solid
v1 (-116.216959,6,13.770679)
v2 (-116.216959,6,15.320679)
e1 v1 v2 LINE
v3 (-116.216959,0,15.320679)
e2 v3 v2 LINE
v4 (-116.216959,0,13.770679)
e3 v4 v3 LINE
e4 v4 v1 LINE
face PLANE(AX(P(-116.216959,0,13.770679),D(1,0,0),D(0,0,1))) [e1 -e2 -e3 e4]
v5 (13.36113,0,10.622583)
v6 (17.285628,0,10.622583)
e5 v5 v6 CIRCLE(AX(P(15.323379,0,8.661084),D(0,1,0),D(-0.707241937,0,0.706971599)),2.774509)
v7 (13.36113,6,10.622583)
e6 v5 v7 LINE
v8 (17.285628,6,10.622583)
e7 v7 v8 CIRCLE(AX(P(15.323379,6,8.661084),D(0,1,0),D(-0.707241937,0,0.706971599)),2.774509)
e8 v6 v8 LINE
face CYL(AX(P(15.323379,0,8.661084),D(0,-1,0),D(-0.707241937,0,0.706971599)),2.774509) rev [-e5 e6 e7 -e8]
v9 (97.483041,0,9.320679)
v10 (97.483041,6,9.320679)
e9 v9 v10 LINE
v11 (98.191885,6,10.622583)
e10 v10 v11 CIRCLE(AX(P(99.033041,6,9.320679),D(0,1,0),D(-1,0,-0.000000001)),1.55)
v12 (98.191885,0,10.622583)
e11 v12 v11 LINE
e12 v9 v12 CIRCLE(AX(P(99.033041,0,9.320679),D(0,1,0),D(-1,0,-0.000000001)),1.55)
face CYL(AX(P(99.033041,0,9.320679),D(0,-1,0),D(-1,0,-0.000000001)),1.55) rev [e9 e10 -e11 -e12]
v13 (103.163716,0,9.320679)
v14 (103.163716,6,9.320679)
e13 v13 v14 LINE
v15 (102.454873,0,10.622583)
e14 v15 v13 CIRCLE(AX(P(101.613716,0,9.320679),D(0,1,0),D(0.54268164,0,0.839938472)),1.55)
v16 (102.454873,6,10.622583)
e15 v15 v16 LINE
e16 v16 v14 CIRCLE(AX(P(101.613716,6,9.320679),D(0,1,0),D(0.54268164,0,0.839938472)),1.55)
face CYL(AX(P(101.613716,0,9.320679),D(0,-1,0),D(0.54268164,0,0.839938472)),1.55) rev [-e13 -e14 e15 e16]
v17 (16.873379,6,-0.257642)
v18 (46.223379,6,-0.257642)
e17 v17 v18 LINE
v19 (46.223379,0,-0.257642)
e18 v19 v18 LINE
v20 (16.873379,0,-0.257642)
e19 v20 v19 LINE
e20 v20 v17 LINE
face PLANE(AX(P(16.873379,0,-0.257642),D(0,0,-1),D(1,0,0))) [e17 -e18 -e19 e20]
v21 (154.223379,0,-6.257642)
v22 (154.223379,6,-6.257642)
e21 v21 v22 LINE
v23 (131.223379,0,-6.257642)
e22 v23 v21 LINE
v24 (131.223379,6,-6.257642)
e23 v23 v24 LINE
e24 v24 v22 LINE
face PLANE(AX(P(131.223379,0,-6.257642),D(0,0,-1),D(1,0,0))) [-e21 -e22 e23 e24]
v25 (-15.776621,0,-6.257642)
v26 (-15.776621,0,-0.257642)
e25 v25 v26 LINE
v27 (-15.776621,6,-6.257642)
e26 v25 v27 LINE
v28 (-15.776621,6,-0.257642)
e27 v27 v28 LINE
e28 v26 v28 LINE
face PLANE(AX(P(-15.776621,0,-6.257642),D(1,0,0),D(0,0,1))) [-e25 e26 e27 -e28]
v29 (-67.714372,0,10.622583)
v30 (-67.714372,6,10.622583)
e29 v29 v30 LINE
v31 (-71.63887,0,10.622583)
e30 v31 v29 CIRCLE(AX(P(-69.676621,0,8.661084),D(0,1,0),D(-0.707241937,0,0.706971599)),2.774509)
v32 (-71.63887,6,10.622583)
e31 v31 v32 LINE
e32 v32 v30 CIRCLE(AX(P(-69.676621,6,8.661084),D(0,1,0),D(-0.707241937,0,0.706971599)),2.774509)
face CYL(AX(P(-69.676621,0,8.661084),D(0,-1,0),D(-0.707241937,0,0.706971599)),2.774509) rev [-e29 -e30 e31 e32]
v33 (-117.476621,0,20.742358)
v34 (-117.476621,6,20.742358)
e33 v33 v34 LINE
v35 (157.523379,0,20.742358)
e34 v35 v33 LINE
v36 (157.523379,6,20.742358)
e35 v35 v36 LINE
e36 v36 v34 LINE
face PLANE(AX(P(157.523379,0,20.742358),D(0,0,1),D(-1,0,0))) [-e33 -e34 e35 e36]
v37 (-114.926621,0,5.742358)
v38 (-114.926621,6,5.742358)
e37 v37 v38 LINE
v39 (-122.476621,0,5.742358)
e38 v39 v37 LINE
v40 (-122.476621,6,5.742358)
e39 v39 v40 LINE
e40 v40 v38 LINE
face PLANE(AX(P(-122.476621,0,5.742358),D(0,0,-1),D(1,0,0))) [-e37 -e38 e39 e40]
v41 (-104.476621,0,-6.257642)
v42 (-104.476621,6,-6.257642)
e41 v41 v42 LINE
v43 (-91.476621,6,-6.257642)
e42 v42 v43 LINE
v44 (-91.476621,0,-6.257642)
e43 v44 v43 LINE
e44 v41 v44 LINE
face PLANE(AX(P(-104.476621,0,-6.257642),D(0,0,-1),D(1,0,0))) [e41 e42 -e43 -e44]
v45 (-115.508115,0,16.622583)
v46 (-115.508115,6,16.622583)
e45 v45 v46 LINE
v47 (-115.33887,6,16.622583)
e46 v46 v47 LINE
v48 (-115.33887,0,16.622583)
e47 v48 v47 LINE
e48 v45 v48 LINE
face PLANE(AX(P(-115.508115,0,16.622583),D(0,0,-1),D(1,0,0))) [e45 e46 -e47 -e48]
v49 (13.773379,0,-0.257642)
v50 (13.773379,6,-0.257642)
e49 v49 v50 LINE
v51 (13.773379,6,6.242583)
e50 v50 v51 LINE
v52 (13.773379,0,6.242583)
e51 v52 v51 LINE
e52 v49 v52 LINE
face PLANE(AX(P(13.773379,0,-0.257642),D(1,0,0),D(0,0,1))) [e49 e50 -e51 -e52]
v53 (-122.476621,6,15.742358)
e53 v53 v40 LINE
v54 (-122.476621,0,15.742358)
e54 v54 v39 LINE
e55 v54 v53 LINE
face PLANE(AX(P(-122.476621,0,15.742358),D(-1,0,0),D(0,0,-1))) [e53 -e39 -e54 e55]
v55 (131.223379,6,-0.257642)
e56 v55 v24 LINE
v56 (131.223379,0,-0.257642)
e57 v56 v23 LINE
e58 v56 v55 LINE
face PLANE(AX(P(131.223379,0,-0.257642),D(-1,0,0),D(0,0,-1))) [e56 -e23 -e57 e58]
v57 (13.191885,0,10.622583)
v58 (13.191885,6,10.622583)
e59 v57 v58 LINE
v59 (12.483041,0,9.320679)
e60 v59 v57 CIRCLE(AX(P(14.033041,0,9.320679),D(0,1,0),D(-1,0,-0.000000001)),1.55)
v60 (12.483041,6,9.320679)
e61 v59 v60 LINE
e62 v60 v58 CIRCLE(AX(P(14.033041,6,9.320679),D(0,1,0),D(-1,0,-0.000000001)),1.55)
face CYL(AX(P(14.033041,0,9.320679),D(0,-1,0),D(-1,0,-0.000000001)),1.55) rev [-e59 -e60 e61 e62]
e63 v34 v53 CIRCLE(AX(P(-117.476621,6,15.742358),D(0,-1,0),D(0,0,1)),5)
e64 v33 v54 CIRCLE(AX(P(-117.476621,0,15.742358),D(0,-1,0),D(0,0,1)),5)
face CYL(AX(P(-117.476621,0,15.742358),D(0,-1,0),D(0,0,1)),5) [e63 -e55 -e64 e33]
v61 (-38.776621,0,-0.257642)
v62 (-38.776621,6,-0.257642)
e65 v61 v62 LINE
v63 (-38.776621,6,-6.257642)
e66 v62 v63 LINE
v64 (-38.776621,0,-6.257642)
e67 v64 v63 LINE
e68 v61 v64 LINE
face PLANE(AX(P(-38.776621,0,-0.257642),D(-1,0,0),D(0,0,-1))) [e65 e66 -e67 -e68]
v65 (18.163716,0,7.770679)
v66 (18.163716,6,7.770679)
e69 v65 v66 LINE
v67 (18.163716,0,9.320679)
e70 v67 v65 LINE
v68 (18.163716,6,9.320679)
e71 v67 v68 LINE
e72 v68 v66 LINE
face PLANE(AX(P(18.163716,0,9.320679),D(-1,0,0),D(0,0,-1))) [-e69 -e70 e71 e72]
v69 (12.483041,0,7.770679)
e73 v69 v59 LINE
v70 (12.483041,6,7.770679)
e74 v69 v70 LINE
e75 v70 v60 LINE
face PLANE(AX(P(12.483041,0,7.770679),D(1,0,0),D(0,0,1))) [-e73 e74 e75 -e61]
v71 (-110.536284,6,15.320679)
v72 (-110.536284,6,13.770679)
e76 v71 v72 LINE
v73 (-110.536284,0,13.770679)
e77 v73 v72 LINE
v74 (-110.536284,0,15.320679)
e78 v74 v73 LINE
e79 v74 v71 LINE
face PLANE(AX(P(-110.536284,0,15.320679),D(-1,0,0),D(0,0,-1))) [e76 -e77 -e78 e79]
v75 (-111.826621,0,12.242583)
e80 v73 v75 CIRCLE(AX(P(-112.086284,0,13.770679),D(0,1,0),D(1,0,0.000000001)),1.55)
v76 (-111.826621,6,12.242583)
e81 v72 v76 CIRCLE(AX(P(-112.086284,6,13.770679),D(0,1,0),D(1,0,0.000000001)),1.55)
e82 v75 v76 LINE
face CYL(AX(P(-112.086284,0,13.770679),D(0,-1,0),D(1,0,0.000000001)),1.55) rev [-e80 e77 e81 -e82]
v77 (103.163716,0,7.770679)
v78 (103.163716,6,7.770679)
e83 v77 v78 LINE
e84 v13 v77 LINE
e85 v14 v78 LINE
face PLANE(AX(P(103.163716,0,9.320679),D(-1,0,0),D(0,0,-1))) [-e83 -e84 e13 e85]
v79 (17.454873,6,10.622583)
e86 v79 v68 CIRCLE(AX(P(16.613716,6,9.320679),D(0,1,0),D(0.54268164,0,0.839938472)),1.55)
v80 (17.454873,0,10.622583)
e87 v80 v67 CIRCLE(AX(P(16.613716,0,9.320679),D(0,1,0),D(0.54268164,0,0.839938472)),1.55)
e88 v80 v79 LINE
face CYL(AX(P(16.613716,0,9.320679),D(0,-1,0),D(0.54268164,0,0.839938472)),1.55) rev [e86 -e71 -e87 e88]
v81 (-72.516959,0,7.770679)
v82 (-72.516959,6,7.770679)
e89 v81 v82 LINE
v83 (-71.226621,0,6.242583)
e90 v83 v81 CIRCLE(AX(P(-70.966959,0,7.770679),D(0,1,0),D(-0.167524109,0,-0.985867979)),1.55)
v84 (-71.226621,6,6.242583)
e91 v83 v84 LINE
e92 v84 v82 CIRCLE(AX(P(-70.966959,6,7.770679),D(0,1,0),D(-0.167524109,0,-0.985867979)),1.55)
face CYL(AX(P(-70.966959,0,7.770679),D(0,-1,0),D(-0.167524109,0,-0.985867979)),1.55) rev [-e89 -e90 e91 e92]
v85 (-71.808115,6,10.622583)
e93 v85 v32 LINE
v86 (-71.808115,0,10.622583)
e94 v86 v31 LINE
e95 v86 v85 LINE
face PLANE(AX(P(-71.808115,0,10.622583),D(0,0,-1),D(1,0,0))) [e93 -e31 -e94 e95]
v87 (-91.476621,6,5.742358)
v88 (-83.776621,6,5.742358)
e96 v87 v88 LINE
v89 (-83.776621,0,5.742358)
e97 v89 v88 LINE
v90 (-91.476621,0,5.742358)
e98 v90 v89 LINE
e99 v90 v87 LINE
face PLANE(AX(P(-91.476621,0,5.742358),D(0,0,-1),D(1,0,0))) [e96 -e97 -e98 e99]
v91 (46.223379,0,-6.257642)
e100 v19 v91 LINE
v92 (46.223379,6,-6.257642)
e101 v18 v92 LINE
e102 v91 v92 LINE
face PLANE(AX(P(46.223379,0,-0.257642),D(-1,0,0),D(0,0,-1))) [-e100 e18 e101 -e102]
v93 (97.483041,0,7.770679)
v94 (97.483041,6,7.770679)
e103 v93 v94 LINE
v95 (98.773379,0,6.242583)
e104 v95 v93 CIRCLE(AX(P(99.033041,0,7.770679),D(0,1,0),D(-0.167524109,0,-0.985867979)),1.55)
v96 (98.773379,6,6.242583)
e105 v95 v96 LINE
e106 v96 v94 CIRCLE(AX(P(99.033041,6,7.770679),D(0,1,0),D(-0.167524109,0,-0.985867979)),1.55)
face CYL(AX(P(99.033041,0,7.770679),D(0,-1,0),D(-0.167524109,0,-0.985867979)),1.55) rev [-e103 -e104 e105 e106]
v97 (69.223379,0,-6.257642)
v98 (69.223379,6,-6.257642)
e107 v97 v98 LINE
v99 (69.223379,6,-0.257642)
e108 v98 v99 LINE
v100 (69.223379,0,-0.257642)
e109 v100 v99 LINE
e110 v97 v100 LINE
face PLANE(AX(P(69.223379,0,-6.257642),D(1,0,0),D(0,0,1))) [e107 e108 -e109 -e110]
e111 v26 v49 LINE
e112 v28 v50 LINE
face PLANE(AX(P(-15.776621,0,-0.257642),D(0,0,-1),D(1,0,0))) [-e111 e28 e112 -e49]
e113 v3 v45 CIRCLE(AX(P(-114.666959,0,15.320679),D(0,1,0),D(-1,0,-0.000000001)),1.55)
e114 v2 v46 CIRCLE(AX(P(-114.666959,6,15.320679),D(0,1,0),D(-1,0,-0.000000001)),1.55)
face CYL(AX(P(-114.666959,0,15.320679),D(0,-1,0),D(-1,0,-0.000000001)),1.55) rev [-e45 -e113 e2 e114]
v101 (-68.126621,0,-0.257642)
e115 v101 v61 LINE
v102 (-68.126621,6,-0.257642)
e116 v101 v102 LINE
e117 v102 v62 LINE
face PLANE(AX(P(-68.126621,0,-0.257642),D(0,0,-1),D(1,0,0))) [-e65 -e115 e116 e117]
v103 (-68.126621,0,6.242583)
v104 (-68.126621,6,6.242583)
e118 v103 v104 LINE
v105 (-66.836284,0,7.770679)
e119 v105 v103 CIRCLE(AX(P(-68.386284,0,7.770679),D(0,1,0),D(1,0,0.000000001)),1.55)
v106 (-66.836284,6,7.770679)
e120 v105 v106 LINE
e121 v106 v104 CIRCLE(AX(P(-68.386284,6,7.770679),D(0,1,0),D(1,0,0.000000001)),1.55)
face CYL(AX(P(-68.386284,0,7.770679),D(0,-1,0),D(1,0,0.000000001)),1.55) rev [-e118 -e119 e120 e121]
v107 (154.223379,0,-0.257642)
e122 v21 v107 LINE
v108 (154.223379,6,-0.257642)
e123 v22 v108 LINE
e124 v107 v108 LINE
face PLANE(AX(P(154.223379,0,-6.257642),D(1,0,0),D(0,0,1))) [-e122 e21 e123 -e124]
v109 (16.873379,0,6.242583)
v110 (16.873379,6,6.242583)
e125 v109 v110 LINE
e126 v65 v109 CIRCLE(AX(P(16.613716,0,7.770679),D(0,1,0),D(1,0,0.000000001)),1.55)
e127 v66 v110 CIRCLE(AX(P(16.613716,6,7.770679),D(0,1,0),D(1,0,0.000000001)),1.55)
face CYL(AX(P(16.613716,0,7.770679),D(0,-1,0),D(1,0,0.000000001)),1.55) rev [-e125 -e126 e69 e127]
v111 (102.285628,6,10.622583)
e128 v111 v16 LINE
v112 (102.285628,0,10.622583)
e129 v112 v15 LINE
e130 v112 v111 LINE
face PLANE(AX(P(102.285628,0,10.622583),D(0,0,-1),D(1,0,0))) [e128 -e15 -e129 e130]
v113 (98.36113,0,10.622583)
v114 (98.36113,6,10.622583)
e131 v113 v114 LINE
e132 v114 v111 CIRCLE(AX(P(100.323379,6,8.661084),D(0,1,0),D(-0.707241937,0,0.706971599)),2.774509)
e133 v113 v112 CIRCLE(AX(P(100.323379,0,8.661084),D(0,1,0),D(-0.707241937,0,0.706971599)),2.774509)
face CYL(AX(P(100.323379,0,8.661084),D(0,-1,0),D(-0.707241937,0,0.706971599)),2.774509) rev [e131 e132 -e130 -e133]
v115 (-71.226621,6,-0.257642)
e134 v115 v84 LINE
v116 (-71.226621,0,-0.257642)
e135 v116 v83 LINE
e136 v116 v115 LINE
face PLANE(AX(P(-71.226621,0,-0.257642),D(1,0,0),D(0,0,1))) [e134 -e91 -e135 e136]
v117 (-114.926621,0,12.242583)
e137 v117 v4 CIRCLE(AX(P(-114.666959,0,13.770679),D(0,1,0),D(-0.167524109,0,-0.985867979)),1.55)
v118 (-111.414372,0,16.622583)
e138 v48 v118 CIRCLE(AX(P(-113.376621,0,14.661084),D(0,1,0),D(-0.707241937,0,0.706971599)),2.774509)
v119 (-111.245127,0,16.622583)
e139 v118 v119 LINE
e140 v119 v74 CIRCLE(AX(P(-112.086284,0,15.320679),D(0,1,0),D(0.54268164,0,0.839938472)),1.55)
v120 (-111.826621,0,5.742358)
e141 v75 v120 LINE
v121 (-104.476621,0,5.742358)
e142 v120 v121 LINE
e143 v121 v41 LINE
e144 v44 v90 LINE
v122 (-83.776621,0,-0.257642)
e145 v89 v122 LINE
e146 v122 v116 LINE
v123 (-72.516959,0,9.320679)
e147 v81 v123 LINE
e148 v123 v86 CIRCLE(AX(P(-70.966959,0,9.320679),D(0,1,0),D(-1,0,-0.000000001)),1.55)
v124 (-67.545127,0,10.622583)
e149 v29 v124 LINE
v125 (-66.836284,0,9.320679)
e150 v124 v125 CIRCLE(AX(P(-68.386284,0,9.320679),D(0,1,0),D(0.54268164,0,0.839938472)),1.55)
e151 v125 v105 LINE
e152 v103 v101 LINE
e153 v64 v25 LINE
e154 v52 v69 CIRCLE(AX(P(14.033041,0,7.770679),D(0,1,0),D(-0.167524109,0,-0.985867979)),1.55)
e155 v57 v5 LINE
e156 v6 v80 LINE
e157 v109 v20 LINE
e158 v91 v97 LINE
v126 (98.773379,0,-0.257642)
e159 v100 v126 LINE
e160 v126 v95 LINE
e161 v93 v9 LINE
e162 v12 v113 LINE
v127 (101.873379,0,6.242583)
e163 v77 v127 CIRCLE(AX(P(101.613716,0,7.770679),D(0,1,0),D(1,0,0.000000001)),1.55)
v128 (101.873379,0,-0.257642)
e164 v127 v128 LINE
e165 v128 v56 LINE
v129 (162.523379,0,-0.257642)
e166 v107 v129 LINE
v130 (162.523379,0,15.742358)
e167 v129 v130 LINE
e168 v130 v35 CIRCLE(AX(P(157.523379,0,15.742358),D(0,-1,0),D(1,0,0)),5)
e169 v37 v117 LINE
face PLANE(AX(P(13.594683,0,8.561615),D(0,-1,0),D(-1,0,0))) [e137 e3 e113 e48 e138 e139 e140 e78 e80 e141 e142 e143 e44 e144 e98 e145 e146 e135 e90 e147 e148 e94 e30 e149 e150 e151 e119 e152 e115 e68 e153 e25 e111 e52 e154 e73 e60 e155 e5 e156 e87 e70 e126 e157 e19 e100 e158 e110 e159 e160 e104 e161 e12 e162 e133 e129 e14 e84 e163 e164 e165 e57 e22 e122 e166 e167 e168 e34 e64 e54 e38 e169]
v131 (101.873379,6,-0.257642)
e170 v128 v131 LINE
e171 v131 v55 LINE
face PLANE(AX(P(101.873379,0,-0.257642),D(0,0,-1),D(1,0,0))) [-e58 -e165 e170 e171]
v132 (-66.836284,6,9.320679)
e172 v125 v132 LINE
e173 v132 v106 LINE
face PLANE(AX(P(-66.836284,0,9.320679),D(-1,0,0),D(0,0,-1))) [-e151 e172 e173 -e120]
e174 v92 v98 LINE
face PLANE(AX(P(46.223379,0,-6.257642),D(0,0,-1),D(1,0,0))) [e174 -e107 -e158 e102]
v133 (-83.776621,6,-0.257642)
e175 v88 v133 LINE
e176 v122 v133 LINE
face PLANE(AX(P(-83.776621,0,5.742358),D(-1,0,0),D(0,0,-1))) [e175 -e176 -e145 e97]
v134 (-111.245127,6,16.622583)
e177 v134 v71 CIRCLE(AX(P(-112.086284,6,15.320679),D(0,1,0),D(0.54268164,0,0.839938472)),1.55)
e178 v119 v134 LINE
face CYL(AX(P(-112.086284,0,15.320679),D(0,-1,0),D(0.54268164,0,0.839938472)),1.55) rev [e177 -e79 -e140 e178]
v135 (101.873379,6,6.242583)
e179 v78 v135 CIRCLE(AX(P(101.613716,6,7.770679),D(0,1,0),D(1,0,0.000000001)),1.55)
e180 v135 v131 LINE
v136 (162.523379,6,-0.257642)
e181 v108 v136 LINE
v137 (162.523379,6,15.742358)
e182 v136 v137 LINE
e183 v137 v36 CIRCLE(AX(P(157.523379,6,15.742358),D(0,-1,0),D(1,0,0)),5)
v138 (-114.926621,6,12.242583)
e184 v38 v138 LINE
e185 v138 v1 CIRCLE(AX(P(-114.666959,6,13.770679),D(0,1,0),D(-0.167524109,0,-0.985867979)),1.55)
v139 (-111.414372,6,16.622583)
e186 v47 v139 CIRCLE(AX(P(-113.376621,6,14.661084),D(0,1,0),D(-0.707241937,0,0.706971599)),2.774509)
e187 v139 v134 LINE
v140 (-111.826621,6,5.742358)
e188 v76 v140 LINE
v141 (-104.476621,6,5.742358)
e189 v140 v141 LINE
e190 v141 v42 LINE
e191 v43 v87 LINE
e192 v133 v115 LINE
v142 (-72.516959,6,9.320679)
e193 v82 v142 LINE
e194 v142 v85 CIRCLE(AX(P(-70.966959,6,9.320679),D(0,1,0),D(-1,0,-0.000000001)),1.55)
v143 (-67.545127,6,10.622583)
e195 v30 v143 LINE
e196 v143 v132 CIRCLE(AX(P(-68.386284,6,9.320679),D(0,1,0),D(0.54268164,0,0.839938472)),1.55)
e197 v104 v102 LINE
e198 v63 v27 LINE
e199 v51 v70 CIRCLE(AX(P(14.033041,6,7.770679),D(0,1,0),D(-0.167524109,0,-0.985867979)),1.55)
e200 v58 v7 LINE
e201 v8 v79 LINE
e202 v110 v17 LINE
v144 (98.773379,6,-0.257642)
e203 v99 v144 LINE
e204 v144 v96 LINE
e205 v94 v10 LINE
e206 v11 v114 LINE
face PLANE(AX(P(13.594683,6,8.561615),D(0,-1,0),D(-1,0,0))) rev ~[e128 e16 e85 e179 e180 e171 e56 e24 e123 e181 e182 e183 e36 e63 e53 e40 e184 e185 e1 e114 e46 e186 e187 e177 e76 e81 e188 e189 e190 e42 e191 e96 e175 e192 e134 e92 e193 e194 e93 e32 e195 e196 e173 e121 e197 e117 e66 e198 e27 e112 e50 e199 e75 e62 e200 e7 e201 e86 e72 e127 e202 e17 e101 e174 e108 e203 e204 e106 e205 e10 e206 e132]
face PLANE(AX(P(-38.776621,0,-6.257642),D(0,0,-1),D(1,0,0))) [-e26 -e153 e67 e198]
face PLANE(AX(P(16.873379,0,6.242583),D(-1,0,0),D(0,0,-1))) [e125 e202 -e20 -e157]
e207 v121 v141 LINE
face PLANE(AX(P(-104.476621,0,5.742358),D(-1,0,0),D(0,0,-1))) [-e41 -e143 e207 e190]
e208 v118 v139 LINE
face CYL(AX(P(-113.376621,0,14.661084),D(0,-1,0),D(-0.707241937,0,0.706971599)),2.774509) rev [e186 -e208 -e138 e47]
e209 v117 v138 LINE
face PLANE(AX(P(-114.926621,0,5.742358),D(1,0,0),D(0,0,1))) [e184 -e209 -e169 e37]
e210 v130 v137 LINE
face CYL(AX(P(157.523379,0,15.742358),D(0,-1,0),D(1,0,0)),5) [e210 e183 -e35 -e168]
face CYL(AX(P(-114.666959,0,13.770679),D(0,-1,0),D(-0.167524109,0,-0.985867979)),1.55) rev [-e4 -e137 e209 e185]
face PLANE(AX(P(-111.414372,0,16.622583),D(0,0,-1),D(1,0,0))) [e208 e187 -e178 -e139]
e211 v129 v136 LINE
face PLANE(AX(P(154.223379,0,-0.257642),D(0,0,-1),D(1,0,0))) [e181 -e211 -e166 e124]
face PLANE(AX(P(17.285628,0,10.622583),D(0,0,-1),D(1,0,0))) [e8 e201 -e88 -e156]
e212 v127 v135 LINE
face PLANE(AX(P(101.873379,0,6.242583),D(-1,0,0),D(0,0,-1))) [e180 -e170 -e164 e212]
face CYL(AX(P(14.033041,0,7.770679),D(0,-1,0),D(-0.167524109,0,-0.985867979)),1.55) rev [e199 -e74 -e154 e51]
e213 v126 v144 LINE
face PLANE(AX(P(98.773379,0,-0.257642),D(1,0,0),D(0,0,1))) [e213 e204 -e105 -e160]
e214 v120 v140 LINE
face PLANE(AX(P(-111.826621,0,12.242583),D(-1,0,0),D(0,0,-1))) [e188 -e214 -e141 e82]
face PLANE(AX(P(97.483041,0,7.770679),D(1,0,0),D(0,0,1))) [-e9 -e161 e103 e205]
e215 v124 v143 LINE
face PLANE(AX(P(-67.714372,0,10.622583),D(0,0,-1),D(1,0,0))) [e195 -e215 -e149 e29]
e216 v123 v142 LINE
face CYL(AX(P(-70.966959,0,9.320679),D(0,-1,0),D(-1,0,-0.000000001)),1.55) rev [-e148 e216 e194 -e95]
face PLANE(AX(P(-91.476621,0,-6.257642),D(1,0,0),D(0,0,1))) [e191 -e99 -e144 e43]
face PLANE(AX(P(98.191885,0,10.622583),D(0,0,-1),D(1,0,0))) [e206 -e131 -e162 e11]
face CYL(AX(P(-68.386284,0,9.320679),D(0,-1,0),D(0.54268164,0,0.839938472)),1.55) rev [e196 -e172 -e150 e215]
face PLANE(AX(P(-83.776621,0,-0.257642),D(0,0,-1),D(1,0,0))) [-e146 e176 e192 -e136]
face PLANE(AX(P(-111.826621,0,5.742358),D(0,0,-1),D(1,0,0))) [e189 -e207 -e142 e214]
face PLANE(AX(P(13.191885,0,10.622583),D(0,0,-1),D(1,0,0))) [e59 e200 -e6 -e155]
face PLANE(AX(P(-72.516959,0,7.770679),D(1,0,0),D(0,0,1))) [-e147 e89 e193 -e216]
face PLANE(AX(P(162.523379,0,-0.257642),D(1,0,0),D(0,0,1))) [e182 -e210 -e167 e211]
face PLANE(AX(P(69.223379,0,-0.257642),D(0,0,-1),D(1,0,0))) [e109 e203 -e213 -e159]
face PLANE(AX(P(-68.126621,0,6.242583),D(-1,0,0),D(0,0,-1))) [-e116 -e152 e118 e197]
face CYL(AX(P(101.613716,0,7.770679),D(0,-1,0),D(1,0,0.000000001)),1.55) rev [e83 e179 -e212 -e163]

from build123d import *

# Parameters (mm, degrees)
SALIENTE_EXTRUIR1_DEPTH = 6


with BuildPart() as part:
    # Croquis1 → Saliente-Extruir1 (new body)
    with BuildSketch(Plane(origin=(0, 0, 0), x_dir=(1, 0, 0), z_dir=(0, 1, 0))):
        with BuildLine():
            Line((-122.476621199, -5.742358079), (-114.926621199, -5.742358079))
            Line((-114.926621199, -5.742358079), (-114.926621199, -12.242583321))
            ThreePointArc((-114.926621199, -12.242583321), (-115.851225833, -12.770672857), (-116.216958829, -13.770678689))
            Line((-116.216958829, -13.770678689), (-116.216958829, -15.320678689))
            ThreePointArc((-116.216958829, -15.320678689), (-116.028261999, -16.061862661), (-115.508115372, -16.622583321))
            Line((-115.508115372, -16.622583321), (-115.33887044, -16.622583321))
            ThreePointArc((-115.33887044, -16.622583321), (-113.376621199, -17.435593306), (-111.414371957, -16.622583321))
            Line((-111.414371957, -16.622583321), (-111.245127025, -16.622583321))
            ThreePointArc((-111.245127025, -16.622583321), (-110.724980398, -16.061862661), (-110.536283568, -15.320678689))
            Line((-110.536283568, -15.320678689), (-110.536283568, -13.770678689))
            ThreePointArc((-110.536283568, -13.770678689), (-110.902016564, -12.770672857), (-111.826621199, -12.242583321))
            Line((-111.826621199, -12.242583321), (-111.826621199, -5.742358079))
            Line((-111.826621199, -5.742358079), (-104.476621199, -5.742358079))
            Line((-104.476621199, -5.742358079), (-104.476621199, 6.257641921))
            Line((-104.476621199, 6.257641921), (-91.476621199, 6.257641921))
            Line((-91.476621199, 6.257641921), (-91.476621199, -5.742358079))
            Line((-91.476621199, -5.742358079), (-83.776621199, -5.742358079))
            Line((-83.776621199, -5.742358079), (-83.776621199, 0.257641921))
            Line((-83.776621199, 0.257641921), (-71.226621199, 0.257641921))
            Line((-71.226621199, 0.257641921), (-71.226621199, -6.242583321))
            ThreePointArc((-71.226621199, -6.242583321), (-72.151225833, -6.770672857), (-72.516958829, -7.770678689))
            Line((-72.516958829, -7.770678689), (-72.516958829, -9.320678689))
            ThreePointArc((-72.516958829, -9.320678689), (-72.328261999, -10.061862661), (-71.808115372, -10.622583321))
            Line((-71.808115372, -10.622583321), (-71.63887044, -10.622583321))
            ThreePointArc((-71.63887044, -10.622583321), (-69.676621199, -11.435593306), (-67.714371957, -10.622583321))
            Line((-67.714371957, -10.622583321), (-67.545127025, -10.622583321))
            ThreePointArc((-67.545127025, -10.622583321), (-67.024980398, -10.061862661), (-66.836283568, -9.320678689))
            Line((-66.836283568, -9.320678689), (-66.836283568, -7.770678689))
            ThreePointArc((-66.836283568, -7.770678689), (-67.202016564, -6.770672857), (-68.126621199, -6.242583321))
            Line((-68.126621199, -6.242583321), (-68.126621199, 0.257641921))
            Line((-68.126621199, 0.257641921), (-38.776621199, 0.257641921))
            Line((-38.776621199, 0.257641921), (-38.776621199, 6.257641921))
            Line((-38.776621199, 6.257641921), (-15.776621199, 6.257641921))
            Line((-15.776621199, 6.257641921), (-15.776621199, 0.257641921))
            Line((-15.776621199, 0.257641921), (13.773378801, 0.257641921))
            Line((13.773378801, 0.257641921), (13.773378801, -6.242583321))
            ThreePointArc((13.773378801, -6.242583321), (12.848774167, -6.770672857), (12.483041171, -7.770678689))
            Line((12.483041171, -7.770678689), (12.483041171, -9.320678689))
            ThreePointArc((12.483041171, -9.320678689), (12.671738001, -10.061862661), (13.191884628, -10.622583321))
            Line((13.191884628, -10.622583321), (13.36112956, -10.622583321))
            ThreePointArc((13.36112956, -10.622583321), (15.323378801, -11.435593306), (17.285628043, -10.622583321))
            Line((17.285628043, -10.622583321), (17.454872975, -10.622583321))
            ThreePointArc((17.454872975, -10.622583321), (17.975019602, -10.061862661), (18.163716432, -9.320678689))
            Line((18.163716432, -9.320678689), (18.163716432, -7.770678689))
            ThreePointArc((18.163716432, -7.770678689), (17.797983436, -6.770672857), (16.873378801, -6.242583321))
            Line((16.873378801, -6.242583321), (16.873378801, 0.257641921))
            Line((16.873378801, 0.257641921), (46.223378801, 0.257641921))
            Line((46.223378801, 0.257641921), (46.223378801, 6.257641921))
            Line((46.223378801, 6.257641921), (69.223378801, 6.257641921))
            Line((69.223378801, 6.257641921), (69.223378801, 0.257641921))
            Line((69.223378801, 0.257641921), (98.773378801, 0.257641921))
            Line((98.773378801, 0.257641921), (98.773378801, -6.242583321))
            ThreePointArc((98.773378801, -6.242583321), (97.848774167, -6.770672857), (97.483041171, -7.770678689))
            Line((97.483041171, -7.770678689), (97.483041171, -9.320678689))
            ThreePointArc((97.483041171, -9.320678689), (97.671738001, -10.061862661), (98.191884628, -10.622583321))
            Line((98.191884628, -10.622583321), (98.36112956, -10.622583321))
            ThreePointArc((98.36112956, -10.622583321), (100.323378801, -11.435593306), (102.285628043, -10.622583321))
            Line((102.285628043, -10.622583321), (102.454872975, -10.622583321))
            ThreePointArc((102.454872975, -10.622583321), (102.975019602, -10.061862661), (103.163716432, -9.320678689))
            Line((103.163716432, -9.320678689), (103.163716432, -7.770678689))
            ThreePointArc((103.163716432, -7.770678689), (102.797983436, -6.770672857), (101.873378801, -6.242583321))
            Line((101.873378801, -6.242583321), (101.873378801, 0.257641921))
            Line((101.873378801, 0.257641921), (131.223378801, 0.257641921))
            Line((131.223378801, 0.257641921), (131.223378801, 6.257641921))
            Line((131.223378801, 6.257641921), (154.223378801, 6.257641921))
            Line((154.223378801, 6.257641921), (154.223378801, 0.257641921))
            Line((154.223378801, 0.257641921), (162.523378801, 0.257641921))
            Line((162.523378801, 0.257641921), (162.523378801, -0.742358079))
            Line((162.523378801, -0.742358079), (162.523378801, -15.742358079))
            ThreePointArc((162.523378801, -15.742358079), (161.058912707, -19.277891985), (157.523378801, -20.742358079))
            Line((157.523378801, -20.742358079), (-117.476621199, -20.742358079))
            ThreePointArc((-117.476621199, -20.742358079), (-121.012155104, -19.277891985), (-122.476621199, -15.742358079))
            Line((-122.476621199, -15.742358079), (-122.476621199, -5.742358079))
        make_face()
    extrude(amount=SALIENTE_EXTRUIR1_DEPTH)


solid = part.part
